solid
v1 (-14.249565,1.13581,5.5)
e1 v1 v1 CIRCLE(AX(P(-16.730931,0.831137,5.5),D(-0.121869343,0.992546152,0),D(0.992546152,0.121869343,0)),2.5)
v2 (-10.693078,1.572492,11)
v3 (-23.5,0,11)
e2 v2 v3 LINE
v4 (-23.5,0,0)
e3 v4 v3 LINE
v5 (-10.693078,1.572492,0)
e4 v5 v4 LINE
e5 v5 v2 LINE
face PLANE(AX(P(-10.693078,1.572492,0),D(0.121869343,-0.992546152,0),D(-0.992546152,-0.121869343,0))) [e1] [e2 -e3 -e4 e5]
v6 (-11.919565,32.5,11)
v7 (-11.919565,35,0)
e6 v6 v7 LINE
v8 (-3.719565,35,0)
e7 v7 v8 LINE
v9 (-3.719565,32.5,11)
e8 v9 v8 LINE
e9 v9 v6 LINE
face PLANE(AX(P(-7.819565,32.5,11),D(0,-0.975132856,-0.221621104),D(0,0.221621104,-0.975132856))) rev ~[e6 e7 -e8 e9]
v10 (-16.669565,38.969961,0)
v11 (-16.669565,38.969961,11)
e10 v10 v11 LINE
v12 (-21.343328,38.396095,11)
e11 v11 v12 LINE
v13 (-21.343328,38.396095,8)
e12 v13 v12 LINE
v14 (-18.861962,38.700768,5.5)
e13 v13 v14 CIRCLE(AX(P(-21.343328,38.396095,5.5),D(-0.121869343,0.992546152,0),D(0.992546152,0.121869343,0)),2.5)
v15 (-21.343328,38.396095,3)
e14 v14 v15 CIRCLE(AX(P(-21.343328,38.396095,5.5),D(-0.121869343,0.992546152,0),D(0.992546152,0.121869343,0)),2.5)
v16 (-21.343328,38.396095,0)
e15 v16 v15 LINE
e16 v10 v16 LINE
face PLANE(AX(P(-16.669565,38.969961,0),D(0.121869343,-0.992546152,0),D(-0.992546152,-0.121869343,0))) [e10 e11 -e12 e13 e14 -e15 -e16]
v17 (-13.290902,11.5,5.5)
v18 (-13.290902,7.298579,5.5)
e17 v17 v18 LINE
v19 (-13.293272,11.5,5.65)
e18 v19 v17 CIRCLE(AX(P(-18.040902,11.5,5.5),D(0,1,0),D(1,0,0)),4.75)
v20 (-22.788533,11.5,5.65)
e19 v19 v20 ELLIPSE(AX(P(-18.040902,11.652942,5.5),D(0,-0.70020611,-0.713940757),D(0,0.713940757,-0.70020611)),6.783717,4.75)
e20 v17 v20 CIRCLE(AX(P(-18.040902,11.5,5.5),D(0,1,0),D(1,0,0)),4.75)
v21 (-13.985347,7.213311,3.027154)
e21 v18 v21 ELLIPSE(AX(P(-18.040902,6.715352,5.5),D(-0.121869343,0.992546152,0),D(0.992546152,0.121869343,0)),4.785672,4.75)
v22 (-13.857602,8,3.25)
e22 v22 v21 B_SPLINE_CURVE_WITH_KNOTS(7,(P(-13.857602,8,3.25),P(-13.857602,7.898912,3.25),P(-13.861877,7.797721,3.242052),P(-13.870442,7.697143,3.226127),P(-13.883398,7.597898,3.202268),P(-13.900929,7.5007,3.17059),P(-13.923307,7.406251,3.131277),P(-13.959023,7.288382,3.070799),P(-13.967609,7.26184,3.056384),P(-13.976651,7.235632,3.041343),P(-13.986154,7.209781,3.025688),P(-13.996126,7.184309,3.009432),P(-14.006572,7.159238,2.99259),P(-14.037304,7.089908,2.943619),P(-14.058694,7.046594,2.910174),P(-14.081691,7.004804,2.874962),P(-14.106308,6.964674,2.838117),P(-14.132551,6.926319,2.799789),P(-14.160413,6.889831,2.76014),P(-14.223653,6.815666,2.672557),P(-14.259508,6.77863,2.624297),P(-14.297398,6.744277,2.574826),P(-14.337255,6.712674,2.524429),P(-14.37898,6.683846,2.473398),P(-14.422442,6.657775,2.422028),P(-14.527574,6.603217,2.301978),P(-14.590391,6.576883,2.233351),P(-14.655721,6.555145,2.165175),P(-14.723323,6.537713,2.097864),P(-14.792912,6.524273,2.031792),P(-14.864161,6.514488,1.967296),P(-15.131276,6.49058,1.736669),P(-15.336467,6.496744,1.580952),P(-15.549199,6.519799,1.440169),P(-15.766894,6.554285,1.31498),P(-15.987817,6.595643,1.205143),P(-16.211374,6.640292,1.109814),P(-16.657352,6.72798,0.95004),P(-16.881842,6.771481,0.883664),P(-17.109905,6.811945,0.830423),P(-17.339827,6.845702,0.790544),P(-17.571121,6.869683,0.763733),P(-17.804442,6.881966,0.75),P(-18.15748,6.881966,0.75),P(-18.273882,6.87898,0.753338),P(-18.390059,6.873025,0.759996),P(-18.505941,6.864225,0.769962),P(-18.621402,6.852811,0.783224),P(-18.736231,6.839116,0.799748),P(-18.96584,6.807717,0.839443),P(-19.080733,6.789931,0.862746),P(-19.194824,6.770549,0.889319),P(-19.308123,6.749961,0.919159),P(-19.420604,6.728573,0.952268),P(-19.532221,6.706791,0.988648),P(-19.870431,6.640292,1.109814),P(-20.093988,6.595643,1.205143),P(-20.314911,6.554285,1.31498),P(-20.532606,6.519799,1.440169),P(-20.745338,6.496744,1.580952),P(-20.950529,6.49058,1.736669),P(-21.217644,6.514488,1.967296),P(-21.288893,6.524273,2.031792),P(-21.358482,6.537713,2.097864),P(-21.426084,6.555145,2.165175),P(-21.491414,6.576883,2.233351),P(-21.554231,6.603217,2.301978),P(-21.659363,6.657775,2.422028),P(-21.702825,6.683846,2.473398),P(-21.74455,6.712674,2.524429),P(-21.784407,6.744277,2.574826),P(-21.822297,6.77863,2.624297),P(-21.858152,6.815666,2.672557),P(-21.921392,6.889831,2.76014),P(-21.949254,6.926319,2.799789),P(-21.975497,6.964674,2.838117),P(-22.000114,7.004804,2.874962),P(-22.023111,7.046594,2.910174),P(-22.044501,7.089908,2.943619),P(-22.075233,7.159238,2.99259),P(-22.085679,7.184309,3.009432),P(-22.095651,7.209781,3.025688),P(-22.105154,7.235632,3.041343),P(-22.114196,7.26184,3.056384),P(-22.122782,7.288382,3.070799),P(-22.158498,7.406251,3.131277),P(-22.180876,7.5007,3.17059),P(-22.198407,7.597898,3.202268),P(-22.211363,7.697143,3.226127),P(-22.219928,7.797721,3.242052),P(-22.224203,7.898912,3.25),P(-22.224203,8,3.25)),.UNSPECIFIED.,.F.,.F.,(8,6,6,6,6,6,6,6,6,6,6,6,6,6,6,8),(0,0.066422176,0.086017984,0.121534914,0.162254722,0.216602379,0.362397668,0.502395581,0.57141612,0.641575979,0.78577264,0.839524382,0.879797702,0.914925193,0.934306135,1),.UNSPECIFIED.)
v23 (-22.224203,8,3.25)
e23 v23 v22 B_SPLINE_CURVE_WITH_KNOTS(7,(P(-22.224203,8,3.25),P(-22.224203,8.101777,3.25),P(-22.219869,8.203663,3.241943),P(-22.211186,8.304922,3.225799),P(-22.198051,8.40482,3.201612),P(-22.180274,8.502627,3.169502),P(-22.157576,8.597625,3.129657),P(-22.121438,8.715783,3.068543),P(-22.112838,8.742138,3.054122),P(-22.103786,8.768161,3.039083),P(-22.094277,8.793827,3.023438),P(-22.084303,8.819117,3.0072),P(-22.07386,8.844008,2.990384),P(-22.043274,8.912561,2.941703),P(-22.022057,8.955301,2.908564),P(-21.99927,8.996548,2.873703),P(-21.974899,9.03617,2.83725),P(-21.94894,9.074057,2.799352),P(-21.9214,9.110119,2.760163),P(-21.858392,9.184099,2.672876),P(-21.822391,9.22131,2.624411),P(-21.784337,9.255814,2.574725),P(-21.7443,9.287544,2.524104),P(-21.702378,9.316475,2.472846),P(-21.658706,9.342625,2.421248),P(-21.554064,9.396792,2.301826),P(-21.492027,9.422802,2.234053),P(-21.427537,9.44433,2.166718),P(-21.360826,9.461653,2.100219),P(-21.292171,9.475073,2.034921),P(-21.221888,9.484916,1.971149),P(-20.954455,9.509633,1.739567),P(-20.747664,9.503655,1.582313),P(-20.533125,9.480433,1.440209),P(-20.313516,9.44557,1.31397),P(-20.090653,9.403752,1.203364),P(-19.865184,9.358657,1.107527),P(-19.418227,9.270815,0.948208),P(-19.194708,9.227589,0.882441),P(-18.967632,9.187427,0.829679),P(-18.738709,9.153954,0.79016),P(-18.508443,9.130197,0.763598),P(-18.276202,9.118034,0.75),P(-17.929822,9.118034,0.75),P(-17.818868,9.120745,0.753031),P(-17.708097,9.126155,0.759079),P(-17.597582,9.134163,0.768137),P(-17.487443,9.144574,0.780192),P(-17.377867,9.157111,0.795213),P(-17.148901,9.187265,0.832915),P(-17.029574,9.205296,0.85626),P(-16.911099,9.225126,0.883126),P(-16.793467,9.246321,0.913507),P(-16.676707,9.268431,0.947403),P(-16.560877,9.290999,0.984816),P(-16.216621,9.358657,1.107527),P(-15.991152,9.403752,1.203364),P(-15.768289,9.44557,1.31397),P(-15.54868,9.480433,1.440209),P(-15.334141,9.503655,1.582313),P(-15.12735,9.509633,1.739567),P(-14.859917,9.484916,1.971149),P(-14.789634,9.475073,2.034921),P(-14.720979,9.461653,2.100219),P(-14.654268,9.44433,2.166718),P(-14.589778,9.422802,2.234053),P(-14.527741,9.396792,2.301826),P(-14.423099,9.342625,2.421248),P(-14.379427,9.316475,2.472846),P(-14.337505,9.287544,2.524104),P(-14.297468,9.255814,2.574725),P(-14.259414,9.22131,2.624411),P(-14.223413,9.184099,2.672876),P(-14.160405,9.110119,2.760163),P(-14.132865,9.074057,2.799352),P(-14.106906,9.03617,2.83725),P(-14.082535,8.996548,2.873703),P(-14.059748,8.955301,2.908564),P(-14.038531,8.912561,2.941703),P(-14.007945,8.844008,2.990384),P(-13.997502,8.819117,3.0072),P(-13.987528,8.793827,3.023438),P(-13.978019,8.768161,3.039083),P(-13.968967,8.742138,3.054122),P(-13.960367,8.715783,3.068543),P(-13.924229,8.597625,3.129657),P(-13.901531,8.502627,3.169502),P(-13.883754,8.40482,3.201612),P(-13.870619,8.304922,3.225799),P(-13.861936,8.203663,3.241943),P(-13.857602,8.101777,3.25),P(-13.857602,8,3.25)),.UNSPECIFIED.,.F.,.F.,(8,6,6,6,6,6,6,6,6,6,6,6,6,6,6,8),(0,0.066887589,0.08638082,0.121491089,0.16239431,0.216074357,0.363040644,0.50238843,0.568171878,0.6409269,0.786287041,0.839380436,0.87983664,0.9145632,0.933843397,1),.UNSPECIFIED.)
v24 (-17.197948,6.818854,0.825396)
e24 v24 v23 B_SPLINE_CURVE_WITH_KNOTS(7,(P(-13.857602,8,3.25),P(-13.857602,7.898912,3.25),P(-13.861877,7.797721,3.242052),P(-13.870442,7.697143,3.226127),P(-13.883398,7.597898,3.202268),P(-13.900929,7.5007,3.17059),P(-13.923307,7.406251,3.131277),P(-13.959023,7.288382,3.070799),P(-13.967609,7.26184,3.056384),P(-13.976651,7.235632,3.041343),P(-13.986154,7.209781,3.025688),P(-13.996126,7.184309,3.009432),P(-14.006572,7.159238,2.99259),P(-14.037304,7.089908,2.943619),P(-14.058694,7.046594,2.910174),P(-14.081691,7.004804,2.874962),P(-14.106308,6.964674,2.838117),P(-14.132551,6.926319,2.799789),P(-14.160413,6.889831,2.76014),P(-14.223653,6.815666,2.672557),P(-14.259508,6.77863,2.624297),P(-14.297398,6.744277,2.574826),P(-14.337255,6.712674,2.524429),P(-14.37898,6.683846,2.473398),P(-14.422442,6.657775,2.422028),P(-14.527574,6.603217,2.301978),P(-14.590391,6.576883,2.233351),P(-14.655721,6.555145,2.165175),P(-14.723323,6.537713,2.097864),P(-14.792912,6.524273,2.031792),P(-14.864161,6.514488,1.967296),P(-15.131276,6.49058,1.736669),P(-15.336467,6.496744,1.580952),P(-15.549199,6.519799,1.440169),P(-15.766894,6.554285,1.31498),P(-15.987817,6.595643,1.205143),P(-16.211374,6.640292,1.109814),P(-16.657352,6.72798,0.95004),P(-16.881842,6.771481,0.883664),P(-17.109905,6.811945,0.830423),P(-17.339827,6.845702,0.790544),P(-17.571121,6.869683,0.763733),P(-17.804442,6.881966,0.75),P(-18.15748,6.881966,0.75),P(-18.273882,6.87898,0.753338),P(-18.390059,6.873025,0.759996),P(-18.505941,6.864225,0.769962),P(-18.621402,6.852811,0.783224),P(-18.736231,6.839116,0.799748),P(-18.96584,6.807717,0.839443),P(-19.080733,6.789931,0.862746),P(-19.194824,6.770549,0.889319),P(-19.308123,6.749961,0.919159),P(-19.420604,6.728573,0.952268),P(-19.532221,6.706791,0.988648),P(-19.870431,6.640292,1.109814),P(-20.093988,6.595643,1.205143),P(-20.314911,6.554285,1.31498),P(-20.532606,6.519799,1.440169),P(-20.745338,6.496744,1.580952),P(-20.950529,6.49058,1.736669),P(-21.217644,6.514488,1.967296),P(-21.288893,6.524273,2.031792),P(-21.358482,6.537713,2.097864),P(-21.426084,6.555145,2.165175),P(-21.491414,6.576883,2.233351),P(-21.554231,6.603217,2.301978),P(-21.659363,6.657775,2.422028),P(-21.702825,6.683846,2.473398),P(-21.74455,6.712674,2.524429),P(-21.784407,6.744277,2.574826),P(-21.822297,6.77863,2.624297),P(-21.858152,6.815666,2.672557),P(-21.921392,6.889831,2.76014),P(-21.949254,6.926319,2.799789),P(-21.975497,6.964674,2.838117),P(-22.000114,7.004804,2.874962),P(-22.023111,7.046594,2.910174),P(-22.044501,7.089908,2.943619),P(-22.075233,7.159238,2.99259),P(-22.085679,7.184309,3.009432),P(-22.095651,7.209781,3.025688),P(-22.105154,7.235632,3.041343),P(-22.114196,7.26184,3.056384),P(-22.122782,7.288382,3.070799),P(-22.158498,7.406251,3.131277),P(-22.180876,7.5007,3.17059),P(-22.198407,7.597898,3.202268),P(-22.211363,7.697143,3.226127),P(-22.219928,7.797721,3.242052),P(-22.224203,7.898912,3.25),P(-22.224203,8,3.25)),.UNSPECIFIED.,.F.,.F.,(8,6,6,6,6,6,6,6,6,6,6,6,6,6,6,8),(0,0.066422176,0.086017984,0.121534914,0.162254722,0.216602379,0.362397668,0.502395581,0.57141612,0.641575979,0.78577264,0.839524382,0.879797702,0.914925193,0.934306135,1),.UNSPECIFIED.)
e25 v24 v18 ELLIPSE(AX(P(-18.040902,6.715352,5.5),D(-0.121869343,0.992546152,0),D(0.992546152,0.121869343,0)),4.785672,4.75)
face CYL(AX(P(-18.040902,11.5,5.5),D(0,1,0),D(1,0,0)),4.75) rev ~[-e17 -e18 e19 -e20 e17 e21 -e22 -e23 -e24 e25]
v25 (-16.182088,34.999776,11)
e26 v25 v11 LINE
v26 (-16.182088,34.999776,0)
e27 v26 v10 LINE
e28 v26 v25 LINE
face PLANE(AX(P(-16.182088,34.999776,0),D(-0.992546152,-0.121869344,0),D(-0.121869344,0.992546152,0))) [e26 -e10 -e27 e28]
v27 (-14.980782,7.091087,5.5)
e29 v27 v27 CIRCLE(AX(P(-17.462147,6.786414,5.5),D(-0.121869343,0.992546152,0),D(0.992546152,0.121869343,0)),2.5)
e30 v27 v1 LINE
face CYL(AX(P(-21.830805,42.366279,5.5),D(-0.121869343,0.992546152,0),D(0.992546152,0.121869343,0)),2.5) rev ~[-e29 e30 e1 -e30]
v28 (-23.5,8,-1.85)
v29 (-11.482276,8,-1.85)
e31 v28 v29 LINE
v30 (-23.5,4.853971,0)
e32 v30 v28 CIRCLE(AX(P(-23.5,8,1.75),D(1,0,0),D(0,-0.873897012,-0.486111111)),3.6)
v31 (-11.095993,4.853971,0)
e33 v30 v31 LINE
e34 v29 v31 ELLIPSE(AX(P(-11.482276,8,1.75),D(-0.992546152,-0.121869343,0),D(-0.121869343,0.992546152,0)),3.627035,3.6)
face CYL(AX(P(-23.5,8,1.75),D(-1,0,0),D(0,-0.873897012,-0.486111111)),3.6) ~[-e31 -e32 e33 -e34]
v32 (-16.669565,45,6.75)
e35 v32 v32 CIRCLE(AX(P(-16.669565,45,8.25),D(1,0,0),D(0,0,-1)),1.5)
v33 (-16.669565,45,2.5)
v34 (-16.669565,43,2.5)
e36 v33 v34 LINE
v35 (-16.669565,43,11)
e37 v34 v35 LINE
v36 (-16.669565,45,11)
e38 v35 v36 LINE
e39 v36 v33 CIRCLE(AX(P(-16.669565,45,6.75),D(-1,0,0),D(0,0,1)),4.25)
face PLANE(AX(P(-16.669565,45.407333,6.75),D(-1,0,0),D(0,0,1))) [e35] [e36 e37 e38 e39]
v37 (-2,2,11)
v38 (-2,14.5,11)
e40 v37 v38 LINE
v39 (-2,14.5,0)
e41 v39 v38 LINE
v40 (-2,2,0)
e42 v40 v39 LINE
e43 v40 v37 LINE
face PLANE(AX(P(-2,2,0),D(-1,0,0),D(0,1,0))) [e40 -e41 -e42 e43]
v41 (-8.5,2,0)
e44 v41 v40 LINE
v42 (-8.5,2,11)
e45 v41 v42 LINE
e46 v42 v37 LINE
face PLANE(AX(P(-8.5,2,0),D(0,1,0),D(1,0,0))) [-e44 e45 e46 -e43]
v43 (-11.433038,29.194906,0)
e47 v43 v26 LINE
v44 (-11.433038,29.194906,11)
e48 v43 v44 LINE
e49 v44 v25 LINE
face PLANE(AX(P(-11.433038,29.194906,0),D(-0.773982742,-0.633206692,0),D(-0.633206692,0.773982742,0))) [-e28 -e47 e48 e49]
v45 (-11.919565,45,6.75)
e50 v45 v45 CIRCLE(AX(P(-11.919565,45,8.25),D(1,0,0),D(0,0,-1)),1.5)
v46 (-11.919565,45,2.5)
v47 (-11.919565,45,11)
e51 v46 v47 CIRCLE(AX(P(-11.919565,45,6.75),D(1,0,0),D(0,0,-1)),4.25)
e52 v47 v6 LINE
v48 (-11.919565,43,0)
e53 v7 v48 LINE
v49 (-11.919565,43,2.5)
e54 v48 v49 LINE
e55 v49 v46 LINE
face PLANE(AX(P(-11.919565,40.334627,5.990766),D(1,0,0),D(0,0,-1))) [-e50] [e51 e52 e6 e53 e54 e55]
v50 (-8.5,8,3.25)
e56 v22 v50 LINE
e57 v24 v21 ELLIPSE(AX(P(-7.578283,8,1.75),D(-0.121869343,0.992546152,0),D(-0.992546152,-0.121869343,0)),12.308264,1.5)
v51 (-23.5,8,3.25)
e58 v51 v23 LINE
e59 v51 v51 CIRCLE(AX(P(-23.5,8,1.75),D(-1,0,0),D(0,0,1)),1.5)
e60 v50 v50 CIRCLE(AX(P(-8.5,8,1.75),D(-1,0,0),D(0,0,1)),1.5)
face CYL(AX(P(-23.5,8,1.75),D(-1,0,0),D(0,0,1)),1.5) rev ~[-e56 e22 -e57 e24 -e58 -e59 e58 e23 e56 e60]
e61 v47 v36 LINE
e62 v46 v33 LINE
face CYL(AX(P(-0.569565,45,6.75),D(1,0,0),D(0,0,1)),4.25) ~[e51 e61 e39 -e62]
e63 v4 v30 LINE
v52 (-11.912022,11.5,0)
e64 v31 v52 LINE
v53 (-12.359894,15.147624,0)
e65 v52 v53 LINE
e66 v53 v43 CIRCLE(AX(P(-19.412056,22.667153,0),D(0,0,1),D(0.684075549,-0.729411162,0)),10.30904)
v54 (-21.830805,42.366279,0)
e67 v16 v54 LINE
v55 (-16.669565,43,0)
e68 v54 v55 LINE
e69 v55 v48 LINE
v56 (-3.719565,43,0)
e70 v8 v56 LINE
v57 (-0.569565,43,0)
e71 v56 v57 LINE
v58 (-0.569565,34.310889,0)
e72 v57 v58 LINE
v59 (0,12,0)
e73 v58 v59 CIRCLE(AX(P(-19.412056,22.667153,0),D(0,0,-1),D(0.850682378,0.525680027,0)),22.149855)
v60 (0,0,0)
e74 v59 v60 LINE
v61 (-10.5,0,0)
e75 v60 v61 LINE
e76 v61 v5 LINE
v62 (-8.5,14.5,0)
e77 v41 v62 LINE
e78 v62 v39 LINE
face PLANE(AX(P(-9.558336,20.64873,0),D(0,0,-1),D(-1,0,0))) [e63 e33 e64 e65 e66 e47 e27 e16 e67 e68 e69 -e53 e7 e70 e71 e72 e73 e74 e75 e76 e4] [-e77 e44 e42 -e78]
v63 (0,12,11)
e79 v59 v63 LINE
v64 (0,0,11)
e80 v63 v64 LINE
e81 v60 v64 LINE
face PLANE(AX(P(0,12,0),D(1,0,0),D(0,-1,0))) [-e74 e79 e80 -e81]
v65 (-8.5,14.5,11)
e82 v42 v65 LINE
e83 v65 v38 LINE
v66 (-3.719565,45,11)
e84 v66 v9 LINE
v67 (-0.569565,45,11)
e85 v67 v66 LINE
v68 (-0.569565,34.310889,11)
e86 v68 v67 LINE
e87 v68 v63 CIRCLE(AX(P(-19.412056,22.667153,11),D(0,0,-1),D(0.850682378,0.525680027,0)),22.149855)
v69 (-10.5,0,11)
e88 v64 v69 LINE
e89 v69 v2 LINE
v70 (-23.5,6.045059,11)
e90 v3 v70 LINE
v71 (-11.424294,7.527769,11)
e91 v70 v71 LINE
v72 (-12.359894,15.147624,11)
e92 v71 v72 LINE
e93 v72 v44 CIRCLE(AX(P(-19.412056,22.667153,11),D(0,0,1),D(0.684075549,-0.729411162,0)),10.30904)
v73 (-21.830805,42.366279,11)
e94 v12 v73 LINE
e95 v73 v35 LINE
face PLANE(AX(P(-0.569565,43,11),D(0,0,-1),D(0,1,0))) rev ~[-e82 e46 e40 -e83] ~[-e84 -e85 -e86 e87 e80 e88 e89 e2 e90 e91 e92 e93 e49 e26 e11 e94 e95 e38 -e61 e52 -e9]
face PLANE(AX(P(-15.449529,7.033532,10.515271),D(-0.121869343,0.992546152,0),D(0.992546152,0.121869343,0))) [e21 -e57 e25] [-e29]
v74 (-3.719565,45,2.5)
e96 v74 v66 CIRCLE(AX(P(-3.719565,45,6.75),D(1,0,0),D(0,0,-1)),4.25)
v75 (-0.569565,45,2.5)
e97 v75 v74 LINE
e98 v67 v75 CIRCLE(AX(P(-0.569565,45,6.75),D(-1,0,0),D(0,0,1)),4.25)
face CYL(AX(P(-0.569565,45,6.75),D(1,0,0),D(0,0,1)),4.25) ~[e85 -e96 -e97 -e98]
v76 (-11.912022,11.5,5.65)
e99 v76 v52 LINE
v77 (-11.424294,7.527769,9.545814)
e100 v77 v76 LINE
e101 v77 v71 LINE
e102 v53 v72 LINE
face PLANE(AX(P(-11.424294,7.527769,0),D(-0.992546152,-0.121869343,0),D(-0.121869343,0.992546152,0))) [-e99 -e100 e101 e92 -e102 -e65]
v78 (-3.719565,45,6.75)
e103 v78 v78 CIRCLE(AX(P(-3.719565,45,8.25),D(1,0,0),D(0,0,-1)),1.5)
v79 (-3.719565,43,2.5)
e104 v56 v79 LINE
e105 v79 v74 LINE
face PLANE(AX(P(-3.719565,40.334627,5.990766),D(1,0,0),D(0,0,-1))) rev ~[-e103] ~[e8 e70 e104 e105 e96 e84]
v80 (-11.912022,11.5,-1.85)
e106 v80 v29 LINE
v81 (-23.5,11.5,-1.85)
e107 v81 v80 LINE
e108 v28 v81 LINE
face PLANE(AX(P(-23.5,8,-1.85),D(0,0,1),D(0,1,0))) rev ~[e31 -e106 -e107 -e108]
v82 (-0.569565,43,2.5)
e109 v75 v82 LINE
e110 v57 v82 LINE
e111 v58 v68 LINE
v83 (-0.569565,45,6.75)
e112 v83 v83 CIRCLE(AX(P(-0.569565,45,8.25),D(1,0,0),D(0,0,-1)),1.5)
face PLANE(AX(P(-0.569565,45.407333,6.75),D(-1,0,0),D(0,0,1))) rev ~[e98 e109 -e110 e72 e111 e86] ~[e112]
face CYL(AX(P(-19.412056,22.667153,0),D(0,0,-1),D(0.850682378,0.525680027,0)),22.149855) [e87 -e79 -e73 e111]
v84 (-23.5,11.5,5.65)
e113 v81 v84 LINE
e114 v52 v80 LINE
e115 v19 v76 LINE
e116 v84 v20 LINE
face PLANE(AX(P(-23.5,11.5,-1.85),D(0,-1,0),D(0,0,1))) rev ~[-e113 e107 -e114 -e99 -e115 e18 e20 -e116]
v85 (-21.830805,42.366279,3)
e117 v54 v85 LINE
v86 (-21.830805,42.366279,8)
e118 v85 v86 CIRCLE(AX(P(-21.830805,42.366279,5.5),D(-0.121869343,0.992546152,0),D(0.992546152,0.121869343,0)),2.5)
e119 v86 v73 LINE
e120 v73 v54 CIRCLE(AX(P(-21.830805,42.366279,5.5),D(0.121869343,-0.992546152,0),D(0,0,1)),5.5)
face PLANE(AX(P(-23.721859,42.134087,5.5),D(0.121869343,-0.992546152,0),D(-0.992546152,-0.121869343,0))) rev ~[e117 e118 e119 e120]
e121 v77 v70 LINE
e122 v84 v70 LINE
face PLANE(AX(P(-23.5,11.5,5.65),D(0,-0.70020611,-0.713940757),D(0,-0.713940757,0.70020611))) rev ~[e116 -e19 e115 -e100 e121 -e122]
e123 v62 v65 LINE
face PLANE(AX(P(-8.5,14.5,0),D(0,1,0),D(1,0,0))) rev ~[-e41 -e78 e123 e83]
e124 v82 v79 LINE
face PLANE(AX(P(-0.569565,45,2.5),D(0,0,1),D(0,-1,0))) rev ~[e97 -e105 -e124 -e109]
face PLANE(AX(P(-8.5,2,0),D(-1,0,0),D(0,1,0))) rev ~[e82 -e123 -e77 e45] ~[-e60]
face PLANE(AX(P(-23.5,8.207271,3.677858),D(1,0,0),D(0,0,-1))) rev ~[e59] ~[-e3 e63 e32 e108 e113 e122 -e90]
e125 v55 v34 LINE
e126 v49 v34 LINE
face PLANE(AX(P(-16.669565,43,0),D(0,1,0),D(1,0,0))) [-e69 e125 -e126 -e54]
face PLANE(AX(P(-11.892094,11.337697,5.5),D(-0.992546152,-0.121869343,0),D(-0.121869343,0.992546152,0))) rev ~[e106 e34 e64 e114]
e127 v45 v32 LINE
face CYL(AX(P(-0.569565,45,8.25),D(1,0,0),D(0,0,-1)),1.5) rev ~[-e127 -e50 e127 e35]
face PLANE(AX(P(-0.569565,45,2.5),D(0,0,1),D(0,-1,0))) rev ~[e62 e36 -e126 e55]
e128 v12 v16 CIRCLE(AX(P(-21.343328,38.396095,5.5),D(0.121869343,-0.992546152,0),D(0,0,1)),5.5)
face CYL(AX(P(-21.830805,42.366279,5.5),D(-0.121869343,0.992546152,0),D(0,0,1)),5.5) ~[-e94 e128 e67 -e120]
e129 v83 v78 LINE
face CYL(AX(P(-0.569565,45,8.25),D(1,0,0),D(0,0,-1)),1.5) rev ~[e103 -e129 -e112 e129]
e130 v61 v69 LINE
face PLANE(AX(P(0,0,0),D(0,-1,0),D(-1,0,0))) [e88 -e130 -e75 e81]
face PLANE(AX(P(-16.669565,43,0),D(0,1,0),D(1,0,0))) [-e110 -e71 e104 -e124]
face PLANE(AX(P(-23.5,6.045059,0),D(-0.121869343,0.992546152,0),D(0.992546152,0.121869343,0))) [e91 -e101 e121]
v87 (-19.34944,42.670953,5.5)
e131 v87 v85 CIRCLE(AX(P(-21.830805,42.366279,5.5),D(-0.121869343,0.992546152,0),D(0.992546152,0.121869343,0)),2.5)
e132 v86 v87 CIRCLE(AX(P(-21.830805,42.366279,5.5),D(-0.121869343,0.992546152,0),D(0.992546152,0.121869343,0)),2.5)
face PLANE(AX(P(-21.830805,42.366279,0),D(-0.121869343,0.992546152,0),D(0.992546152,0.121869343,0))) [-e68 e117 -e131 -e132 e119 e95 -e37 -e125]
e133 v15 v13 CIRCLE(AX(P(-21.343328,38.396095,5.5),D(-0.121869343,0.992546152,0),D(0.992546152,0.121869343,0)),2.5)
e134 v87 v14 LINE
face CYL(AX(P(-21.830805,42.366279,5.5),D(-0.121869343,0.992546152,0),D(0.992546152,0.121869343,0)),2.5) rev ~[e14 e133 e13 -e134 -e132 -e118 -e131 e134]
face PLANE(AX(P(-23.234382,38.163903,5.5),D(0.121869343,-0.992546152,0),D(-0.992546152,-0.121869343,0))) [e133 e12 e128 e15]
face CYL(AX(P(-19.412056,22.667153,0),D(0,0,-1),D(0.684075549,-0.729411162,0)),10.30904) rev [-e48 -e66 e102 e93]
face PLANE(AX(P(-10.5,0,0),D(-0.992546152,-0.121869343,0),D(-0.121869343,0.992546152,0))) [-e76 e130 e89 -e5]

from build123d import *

# Parameters (mm, degrees)
SKETCH1_W                  = 6.5
SKETCH1_H                  = 12.5
MAIN_BASE_DEPTH            = 11
TOP_LINK_HOLES_DEPTH       = 16.1
STEERING_MOUNT_BOSS_DEPTH  = 4
CUT_FOR_LINK_DEPTH         = 4.1
BOSS_EXTRUDE6_REACH        = 28.238
SKETCH4_R                  = 2.5
STEERING_MOUNT_HOLES_DEPTH = 41.847064
SKETCH13_R                 = 1.5
CUT_EXTRUDE8_DEPTH         = 15
CUT_EXTRUDE9_REACH         = 13.5
SKETCH14_R                 = 4.75
SKETCH15_R                 = 1.5
CUT_EXTRUDE10_DEPTH        = 16.1


with BuildPart() as part:
    # Sketch1 → Main Base (new body)
    with BuildSketch(Plane.XY):
        with BuildLine():
            Line((0, 0), (-10.5, 0))
            Line((-10.5, 0), (-10.693077779, 1.572492321))
            Line((-10.693077779, 1.572492321), (-23.5, 0))
            Line((-23.5, 0), (-23.5, 6.045058953))
            Line((-23.5, 6.045058953), (-11.42429384, 7.527769231))
            Line((-11.42429384, 7.527769231), (-12.359894337, 15.1476238))
            ThreePointArc((-12.359894337, 15.1476238), (-9.125383898, 21.988425282), (-11.433037505, 29.194905528))
            Line((-11.433037505, 29.194905528), (-16.182087698, 34.999776092))
            Line((-16.182087698, 34.999776092), (-16.669565072, 38.969960698))
            Line((-16.669565072, 38.969960698), (-21.343327687, 38.396094808))
            Line((-21.343327687, 38.396094808), (-21.83080506, 42.366279414))
            Line((-21.83080506, 42.366279414), (-16.669565072, 43))
            Line((-16.669565072, 43), (-0.569565072, 43))
            Line((-0.569565072, 43), (-0.569565072, 34.310888907))
            ThreePointArc((-0.569565072, 34.310888907), (2.730584507, 23.23242246), (0, 12))
            Line((0, 12), (0, 0))
        make_face()
        with Locations((-5.25, 8.25)):
            Rectangle(SKETCH1_W, SKETCH1_H, mode=Mode.SUBTRACT)
    extrude(amount=MAIN_BASE_DEPTH)

    # Sketch2 → Top Link Holes (add)
    with BuildSketch(Plane(origin=(-0.569565072, 0, 0), x_dir=(0, 0, -1), z_dir=(1, 0, 0))):
        with BuildLine():
            Line((-11, 43), (-11, 45))
            ThreePointArc((-11, 45), (-6.75, 49.25), (-2.5, 45))
            Line((-2.5, 45), (-2.5, 43))
            Line((-2.5, 43), (-11, 43))
        make_face()
    extrude(amount=-TOP_LINK_HOLES_DEPTH)

    # Sketch3 → Steering Mount Boss (add)
    with BuildSketch(Plane(origin=(-5.448899417, 44.377724505, 0), x_dir=(0.992546152, 0.121869343, 0), z_dir=(-0.121869343, 0.992546152, 0))):
        with BuildLine():
            Line((-16.504930895, 0), (-16.504930895, -11))
            ThreePointArc((-16.504930895, -11), (-22.004930895, -5.5), (-16.504930895, 0))
        make_face()
    extrude(amount=-STEERING_MOUNT_BOSS_DEPTH)

    # Sketch5 → Cut for Link (cut, symmetric)
    with BuildSketch(Plane(origin=(-7.819565072, 0, 0), x_dir=(0, 0, -1), z_dir=(1, 0, 0))):
        with BuildLine():
            Line((-11, 32.5), (0, 35))
            Line((0, 35), (0, 43))
            Line((0, 43), (-2.5, 43))
            Line((-2.5, 43), (-2.5, 45))
            ThreePointArc((-2.5, 45), (-6.75, 49.25), (-11, 45))
            Line((-11, 45), (-11, 32.5))
        make_face()
    extrude(amount=CUT_FOR_LINK_DEPTH, both=True, mode=Mode.SUBTRACT)

    # Boss-Extrude6: up to this face of the body (flat: up to its plane)
    boss_extrude6_end = Plane(part.part.faces().sort_by_distance((-11.892094088, 11.337696516, 5.5))[0])
    # Sketch12 → Boss-Extrude6 (add, up to the picked face)
    with BuildSketch(Plane.ZY.offset(23.5), mode=Mode.PRIVATE) as boss_extrude6_sk1:
        with BuildLine():
            Line((11, 6.045058953), (0, 6.045058953))
            Line((0, 6.045058953), (0, 4.853970757))
            ThreePointArc((0, 4.853970757), (-1.35322413, 6.175171241), (-1.85, 8))
            Line((-1.85, 8), (-1.85, 11.5))
            Line((-1.85, 11.5), (5.65, 11.5))
            Line((5.65, 11.5), (11, 6.045058953))
        make_face()
    boss_extrude6_tool1 = split(extrude(boss_extrude6_sk1.sketch, amount=-BOSS_EXTRUDE6_REACH, mode=Mode.PRIVATE), bisect_by=boss_extrude6_end, keep=Keep.BOTH, mode=Mode.PRIVATE)
    add(boss_extrude6_tool1.solids().sort_by_distance((-23.5, 8.500537, 3.327239))[0])

    # Sketch4 → Steering mount holes (cut)
    with BuildSketch(Plane(origin=(-5.448899417, 44.377724505, 0), x_dir=(0.992546152, 0.121869343, 0), z_dir=(-0.121869343, 0.992546152, 0))):
        with Locations((-16.504930895, -5.5)):
            Circle(SKETCH4_R)
    extrude(amount=-STEERING_MOUNT_HOLES_DEPTH, mode=Mode.SUBTRACT)

    # Sketch13 → Cut-Extrude8 (cut)
    with BuildSketch(Plane.ZY.offset(23.5)):
        with Locations((1.75, 8)):
            Circle(SKETCH13_R)
    extrude(amount=-CUT_EXTRUDE8_DEPTH, mode=Mode.SUBTRACT)

    # Cut-Extrude9: up to this face of the body (flat: up to its plane)
    cut_extrude9_end = Plane(part.part.faces().sort_by_distance((-15.449529226, 7.033532472, 10.515271267))[0])
    # Sketch14 → Cut-Extrude9 (cut, up to the picked face)
    with BuildSketch(Plane(origin=(0, 11.5, 0), x_dir=(1, 0, 0), z_dir=(0, 1, 0)), mode=Mode.PRIVATE) as cut_extrude9_sk1:
        with Locations((-18.040902496, -5.5)):
            Circle(SKETCH14_R)
    cut_extrude9_tool1 = split(extrude(cut_extrude9_sk1.sketch, amount=-CUT_EXTRUDE9_REACH, mode=Mode.PRIVATE), bisect_by=cut_extrude9_end, keep=Keep.BOTH, mode=Mode.PRIVATE)
    add(cut_extrude9_tool1.solids().sort_by_distance((-18.040902, 11.5, 5.5))[0], mode=Mode.SUBTRACT)

    # Sketch15 → Cut-Extrude10 (cut)
    with BuildSketch(Plane(origin=(-0.569565072, 0, 0), x_dir=(0, 0, -1), z_dir=(1, 0, 0))):
        with Locations((-8.25, 45)):
            Circle(SKETCH15_R)
    extrude(amount=-CUT_EXTRUDE10_DEPTH, mode=Mode.SUBTRACT)


solid = part.part
